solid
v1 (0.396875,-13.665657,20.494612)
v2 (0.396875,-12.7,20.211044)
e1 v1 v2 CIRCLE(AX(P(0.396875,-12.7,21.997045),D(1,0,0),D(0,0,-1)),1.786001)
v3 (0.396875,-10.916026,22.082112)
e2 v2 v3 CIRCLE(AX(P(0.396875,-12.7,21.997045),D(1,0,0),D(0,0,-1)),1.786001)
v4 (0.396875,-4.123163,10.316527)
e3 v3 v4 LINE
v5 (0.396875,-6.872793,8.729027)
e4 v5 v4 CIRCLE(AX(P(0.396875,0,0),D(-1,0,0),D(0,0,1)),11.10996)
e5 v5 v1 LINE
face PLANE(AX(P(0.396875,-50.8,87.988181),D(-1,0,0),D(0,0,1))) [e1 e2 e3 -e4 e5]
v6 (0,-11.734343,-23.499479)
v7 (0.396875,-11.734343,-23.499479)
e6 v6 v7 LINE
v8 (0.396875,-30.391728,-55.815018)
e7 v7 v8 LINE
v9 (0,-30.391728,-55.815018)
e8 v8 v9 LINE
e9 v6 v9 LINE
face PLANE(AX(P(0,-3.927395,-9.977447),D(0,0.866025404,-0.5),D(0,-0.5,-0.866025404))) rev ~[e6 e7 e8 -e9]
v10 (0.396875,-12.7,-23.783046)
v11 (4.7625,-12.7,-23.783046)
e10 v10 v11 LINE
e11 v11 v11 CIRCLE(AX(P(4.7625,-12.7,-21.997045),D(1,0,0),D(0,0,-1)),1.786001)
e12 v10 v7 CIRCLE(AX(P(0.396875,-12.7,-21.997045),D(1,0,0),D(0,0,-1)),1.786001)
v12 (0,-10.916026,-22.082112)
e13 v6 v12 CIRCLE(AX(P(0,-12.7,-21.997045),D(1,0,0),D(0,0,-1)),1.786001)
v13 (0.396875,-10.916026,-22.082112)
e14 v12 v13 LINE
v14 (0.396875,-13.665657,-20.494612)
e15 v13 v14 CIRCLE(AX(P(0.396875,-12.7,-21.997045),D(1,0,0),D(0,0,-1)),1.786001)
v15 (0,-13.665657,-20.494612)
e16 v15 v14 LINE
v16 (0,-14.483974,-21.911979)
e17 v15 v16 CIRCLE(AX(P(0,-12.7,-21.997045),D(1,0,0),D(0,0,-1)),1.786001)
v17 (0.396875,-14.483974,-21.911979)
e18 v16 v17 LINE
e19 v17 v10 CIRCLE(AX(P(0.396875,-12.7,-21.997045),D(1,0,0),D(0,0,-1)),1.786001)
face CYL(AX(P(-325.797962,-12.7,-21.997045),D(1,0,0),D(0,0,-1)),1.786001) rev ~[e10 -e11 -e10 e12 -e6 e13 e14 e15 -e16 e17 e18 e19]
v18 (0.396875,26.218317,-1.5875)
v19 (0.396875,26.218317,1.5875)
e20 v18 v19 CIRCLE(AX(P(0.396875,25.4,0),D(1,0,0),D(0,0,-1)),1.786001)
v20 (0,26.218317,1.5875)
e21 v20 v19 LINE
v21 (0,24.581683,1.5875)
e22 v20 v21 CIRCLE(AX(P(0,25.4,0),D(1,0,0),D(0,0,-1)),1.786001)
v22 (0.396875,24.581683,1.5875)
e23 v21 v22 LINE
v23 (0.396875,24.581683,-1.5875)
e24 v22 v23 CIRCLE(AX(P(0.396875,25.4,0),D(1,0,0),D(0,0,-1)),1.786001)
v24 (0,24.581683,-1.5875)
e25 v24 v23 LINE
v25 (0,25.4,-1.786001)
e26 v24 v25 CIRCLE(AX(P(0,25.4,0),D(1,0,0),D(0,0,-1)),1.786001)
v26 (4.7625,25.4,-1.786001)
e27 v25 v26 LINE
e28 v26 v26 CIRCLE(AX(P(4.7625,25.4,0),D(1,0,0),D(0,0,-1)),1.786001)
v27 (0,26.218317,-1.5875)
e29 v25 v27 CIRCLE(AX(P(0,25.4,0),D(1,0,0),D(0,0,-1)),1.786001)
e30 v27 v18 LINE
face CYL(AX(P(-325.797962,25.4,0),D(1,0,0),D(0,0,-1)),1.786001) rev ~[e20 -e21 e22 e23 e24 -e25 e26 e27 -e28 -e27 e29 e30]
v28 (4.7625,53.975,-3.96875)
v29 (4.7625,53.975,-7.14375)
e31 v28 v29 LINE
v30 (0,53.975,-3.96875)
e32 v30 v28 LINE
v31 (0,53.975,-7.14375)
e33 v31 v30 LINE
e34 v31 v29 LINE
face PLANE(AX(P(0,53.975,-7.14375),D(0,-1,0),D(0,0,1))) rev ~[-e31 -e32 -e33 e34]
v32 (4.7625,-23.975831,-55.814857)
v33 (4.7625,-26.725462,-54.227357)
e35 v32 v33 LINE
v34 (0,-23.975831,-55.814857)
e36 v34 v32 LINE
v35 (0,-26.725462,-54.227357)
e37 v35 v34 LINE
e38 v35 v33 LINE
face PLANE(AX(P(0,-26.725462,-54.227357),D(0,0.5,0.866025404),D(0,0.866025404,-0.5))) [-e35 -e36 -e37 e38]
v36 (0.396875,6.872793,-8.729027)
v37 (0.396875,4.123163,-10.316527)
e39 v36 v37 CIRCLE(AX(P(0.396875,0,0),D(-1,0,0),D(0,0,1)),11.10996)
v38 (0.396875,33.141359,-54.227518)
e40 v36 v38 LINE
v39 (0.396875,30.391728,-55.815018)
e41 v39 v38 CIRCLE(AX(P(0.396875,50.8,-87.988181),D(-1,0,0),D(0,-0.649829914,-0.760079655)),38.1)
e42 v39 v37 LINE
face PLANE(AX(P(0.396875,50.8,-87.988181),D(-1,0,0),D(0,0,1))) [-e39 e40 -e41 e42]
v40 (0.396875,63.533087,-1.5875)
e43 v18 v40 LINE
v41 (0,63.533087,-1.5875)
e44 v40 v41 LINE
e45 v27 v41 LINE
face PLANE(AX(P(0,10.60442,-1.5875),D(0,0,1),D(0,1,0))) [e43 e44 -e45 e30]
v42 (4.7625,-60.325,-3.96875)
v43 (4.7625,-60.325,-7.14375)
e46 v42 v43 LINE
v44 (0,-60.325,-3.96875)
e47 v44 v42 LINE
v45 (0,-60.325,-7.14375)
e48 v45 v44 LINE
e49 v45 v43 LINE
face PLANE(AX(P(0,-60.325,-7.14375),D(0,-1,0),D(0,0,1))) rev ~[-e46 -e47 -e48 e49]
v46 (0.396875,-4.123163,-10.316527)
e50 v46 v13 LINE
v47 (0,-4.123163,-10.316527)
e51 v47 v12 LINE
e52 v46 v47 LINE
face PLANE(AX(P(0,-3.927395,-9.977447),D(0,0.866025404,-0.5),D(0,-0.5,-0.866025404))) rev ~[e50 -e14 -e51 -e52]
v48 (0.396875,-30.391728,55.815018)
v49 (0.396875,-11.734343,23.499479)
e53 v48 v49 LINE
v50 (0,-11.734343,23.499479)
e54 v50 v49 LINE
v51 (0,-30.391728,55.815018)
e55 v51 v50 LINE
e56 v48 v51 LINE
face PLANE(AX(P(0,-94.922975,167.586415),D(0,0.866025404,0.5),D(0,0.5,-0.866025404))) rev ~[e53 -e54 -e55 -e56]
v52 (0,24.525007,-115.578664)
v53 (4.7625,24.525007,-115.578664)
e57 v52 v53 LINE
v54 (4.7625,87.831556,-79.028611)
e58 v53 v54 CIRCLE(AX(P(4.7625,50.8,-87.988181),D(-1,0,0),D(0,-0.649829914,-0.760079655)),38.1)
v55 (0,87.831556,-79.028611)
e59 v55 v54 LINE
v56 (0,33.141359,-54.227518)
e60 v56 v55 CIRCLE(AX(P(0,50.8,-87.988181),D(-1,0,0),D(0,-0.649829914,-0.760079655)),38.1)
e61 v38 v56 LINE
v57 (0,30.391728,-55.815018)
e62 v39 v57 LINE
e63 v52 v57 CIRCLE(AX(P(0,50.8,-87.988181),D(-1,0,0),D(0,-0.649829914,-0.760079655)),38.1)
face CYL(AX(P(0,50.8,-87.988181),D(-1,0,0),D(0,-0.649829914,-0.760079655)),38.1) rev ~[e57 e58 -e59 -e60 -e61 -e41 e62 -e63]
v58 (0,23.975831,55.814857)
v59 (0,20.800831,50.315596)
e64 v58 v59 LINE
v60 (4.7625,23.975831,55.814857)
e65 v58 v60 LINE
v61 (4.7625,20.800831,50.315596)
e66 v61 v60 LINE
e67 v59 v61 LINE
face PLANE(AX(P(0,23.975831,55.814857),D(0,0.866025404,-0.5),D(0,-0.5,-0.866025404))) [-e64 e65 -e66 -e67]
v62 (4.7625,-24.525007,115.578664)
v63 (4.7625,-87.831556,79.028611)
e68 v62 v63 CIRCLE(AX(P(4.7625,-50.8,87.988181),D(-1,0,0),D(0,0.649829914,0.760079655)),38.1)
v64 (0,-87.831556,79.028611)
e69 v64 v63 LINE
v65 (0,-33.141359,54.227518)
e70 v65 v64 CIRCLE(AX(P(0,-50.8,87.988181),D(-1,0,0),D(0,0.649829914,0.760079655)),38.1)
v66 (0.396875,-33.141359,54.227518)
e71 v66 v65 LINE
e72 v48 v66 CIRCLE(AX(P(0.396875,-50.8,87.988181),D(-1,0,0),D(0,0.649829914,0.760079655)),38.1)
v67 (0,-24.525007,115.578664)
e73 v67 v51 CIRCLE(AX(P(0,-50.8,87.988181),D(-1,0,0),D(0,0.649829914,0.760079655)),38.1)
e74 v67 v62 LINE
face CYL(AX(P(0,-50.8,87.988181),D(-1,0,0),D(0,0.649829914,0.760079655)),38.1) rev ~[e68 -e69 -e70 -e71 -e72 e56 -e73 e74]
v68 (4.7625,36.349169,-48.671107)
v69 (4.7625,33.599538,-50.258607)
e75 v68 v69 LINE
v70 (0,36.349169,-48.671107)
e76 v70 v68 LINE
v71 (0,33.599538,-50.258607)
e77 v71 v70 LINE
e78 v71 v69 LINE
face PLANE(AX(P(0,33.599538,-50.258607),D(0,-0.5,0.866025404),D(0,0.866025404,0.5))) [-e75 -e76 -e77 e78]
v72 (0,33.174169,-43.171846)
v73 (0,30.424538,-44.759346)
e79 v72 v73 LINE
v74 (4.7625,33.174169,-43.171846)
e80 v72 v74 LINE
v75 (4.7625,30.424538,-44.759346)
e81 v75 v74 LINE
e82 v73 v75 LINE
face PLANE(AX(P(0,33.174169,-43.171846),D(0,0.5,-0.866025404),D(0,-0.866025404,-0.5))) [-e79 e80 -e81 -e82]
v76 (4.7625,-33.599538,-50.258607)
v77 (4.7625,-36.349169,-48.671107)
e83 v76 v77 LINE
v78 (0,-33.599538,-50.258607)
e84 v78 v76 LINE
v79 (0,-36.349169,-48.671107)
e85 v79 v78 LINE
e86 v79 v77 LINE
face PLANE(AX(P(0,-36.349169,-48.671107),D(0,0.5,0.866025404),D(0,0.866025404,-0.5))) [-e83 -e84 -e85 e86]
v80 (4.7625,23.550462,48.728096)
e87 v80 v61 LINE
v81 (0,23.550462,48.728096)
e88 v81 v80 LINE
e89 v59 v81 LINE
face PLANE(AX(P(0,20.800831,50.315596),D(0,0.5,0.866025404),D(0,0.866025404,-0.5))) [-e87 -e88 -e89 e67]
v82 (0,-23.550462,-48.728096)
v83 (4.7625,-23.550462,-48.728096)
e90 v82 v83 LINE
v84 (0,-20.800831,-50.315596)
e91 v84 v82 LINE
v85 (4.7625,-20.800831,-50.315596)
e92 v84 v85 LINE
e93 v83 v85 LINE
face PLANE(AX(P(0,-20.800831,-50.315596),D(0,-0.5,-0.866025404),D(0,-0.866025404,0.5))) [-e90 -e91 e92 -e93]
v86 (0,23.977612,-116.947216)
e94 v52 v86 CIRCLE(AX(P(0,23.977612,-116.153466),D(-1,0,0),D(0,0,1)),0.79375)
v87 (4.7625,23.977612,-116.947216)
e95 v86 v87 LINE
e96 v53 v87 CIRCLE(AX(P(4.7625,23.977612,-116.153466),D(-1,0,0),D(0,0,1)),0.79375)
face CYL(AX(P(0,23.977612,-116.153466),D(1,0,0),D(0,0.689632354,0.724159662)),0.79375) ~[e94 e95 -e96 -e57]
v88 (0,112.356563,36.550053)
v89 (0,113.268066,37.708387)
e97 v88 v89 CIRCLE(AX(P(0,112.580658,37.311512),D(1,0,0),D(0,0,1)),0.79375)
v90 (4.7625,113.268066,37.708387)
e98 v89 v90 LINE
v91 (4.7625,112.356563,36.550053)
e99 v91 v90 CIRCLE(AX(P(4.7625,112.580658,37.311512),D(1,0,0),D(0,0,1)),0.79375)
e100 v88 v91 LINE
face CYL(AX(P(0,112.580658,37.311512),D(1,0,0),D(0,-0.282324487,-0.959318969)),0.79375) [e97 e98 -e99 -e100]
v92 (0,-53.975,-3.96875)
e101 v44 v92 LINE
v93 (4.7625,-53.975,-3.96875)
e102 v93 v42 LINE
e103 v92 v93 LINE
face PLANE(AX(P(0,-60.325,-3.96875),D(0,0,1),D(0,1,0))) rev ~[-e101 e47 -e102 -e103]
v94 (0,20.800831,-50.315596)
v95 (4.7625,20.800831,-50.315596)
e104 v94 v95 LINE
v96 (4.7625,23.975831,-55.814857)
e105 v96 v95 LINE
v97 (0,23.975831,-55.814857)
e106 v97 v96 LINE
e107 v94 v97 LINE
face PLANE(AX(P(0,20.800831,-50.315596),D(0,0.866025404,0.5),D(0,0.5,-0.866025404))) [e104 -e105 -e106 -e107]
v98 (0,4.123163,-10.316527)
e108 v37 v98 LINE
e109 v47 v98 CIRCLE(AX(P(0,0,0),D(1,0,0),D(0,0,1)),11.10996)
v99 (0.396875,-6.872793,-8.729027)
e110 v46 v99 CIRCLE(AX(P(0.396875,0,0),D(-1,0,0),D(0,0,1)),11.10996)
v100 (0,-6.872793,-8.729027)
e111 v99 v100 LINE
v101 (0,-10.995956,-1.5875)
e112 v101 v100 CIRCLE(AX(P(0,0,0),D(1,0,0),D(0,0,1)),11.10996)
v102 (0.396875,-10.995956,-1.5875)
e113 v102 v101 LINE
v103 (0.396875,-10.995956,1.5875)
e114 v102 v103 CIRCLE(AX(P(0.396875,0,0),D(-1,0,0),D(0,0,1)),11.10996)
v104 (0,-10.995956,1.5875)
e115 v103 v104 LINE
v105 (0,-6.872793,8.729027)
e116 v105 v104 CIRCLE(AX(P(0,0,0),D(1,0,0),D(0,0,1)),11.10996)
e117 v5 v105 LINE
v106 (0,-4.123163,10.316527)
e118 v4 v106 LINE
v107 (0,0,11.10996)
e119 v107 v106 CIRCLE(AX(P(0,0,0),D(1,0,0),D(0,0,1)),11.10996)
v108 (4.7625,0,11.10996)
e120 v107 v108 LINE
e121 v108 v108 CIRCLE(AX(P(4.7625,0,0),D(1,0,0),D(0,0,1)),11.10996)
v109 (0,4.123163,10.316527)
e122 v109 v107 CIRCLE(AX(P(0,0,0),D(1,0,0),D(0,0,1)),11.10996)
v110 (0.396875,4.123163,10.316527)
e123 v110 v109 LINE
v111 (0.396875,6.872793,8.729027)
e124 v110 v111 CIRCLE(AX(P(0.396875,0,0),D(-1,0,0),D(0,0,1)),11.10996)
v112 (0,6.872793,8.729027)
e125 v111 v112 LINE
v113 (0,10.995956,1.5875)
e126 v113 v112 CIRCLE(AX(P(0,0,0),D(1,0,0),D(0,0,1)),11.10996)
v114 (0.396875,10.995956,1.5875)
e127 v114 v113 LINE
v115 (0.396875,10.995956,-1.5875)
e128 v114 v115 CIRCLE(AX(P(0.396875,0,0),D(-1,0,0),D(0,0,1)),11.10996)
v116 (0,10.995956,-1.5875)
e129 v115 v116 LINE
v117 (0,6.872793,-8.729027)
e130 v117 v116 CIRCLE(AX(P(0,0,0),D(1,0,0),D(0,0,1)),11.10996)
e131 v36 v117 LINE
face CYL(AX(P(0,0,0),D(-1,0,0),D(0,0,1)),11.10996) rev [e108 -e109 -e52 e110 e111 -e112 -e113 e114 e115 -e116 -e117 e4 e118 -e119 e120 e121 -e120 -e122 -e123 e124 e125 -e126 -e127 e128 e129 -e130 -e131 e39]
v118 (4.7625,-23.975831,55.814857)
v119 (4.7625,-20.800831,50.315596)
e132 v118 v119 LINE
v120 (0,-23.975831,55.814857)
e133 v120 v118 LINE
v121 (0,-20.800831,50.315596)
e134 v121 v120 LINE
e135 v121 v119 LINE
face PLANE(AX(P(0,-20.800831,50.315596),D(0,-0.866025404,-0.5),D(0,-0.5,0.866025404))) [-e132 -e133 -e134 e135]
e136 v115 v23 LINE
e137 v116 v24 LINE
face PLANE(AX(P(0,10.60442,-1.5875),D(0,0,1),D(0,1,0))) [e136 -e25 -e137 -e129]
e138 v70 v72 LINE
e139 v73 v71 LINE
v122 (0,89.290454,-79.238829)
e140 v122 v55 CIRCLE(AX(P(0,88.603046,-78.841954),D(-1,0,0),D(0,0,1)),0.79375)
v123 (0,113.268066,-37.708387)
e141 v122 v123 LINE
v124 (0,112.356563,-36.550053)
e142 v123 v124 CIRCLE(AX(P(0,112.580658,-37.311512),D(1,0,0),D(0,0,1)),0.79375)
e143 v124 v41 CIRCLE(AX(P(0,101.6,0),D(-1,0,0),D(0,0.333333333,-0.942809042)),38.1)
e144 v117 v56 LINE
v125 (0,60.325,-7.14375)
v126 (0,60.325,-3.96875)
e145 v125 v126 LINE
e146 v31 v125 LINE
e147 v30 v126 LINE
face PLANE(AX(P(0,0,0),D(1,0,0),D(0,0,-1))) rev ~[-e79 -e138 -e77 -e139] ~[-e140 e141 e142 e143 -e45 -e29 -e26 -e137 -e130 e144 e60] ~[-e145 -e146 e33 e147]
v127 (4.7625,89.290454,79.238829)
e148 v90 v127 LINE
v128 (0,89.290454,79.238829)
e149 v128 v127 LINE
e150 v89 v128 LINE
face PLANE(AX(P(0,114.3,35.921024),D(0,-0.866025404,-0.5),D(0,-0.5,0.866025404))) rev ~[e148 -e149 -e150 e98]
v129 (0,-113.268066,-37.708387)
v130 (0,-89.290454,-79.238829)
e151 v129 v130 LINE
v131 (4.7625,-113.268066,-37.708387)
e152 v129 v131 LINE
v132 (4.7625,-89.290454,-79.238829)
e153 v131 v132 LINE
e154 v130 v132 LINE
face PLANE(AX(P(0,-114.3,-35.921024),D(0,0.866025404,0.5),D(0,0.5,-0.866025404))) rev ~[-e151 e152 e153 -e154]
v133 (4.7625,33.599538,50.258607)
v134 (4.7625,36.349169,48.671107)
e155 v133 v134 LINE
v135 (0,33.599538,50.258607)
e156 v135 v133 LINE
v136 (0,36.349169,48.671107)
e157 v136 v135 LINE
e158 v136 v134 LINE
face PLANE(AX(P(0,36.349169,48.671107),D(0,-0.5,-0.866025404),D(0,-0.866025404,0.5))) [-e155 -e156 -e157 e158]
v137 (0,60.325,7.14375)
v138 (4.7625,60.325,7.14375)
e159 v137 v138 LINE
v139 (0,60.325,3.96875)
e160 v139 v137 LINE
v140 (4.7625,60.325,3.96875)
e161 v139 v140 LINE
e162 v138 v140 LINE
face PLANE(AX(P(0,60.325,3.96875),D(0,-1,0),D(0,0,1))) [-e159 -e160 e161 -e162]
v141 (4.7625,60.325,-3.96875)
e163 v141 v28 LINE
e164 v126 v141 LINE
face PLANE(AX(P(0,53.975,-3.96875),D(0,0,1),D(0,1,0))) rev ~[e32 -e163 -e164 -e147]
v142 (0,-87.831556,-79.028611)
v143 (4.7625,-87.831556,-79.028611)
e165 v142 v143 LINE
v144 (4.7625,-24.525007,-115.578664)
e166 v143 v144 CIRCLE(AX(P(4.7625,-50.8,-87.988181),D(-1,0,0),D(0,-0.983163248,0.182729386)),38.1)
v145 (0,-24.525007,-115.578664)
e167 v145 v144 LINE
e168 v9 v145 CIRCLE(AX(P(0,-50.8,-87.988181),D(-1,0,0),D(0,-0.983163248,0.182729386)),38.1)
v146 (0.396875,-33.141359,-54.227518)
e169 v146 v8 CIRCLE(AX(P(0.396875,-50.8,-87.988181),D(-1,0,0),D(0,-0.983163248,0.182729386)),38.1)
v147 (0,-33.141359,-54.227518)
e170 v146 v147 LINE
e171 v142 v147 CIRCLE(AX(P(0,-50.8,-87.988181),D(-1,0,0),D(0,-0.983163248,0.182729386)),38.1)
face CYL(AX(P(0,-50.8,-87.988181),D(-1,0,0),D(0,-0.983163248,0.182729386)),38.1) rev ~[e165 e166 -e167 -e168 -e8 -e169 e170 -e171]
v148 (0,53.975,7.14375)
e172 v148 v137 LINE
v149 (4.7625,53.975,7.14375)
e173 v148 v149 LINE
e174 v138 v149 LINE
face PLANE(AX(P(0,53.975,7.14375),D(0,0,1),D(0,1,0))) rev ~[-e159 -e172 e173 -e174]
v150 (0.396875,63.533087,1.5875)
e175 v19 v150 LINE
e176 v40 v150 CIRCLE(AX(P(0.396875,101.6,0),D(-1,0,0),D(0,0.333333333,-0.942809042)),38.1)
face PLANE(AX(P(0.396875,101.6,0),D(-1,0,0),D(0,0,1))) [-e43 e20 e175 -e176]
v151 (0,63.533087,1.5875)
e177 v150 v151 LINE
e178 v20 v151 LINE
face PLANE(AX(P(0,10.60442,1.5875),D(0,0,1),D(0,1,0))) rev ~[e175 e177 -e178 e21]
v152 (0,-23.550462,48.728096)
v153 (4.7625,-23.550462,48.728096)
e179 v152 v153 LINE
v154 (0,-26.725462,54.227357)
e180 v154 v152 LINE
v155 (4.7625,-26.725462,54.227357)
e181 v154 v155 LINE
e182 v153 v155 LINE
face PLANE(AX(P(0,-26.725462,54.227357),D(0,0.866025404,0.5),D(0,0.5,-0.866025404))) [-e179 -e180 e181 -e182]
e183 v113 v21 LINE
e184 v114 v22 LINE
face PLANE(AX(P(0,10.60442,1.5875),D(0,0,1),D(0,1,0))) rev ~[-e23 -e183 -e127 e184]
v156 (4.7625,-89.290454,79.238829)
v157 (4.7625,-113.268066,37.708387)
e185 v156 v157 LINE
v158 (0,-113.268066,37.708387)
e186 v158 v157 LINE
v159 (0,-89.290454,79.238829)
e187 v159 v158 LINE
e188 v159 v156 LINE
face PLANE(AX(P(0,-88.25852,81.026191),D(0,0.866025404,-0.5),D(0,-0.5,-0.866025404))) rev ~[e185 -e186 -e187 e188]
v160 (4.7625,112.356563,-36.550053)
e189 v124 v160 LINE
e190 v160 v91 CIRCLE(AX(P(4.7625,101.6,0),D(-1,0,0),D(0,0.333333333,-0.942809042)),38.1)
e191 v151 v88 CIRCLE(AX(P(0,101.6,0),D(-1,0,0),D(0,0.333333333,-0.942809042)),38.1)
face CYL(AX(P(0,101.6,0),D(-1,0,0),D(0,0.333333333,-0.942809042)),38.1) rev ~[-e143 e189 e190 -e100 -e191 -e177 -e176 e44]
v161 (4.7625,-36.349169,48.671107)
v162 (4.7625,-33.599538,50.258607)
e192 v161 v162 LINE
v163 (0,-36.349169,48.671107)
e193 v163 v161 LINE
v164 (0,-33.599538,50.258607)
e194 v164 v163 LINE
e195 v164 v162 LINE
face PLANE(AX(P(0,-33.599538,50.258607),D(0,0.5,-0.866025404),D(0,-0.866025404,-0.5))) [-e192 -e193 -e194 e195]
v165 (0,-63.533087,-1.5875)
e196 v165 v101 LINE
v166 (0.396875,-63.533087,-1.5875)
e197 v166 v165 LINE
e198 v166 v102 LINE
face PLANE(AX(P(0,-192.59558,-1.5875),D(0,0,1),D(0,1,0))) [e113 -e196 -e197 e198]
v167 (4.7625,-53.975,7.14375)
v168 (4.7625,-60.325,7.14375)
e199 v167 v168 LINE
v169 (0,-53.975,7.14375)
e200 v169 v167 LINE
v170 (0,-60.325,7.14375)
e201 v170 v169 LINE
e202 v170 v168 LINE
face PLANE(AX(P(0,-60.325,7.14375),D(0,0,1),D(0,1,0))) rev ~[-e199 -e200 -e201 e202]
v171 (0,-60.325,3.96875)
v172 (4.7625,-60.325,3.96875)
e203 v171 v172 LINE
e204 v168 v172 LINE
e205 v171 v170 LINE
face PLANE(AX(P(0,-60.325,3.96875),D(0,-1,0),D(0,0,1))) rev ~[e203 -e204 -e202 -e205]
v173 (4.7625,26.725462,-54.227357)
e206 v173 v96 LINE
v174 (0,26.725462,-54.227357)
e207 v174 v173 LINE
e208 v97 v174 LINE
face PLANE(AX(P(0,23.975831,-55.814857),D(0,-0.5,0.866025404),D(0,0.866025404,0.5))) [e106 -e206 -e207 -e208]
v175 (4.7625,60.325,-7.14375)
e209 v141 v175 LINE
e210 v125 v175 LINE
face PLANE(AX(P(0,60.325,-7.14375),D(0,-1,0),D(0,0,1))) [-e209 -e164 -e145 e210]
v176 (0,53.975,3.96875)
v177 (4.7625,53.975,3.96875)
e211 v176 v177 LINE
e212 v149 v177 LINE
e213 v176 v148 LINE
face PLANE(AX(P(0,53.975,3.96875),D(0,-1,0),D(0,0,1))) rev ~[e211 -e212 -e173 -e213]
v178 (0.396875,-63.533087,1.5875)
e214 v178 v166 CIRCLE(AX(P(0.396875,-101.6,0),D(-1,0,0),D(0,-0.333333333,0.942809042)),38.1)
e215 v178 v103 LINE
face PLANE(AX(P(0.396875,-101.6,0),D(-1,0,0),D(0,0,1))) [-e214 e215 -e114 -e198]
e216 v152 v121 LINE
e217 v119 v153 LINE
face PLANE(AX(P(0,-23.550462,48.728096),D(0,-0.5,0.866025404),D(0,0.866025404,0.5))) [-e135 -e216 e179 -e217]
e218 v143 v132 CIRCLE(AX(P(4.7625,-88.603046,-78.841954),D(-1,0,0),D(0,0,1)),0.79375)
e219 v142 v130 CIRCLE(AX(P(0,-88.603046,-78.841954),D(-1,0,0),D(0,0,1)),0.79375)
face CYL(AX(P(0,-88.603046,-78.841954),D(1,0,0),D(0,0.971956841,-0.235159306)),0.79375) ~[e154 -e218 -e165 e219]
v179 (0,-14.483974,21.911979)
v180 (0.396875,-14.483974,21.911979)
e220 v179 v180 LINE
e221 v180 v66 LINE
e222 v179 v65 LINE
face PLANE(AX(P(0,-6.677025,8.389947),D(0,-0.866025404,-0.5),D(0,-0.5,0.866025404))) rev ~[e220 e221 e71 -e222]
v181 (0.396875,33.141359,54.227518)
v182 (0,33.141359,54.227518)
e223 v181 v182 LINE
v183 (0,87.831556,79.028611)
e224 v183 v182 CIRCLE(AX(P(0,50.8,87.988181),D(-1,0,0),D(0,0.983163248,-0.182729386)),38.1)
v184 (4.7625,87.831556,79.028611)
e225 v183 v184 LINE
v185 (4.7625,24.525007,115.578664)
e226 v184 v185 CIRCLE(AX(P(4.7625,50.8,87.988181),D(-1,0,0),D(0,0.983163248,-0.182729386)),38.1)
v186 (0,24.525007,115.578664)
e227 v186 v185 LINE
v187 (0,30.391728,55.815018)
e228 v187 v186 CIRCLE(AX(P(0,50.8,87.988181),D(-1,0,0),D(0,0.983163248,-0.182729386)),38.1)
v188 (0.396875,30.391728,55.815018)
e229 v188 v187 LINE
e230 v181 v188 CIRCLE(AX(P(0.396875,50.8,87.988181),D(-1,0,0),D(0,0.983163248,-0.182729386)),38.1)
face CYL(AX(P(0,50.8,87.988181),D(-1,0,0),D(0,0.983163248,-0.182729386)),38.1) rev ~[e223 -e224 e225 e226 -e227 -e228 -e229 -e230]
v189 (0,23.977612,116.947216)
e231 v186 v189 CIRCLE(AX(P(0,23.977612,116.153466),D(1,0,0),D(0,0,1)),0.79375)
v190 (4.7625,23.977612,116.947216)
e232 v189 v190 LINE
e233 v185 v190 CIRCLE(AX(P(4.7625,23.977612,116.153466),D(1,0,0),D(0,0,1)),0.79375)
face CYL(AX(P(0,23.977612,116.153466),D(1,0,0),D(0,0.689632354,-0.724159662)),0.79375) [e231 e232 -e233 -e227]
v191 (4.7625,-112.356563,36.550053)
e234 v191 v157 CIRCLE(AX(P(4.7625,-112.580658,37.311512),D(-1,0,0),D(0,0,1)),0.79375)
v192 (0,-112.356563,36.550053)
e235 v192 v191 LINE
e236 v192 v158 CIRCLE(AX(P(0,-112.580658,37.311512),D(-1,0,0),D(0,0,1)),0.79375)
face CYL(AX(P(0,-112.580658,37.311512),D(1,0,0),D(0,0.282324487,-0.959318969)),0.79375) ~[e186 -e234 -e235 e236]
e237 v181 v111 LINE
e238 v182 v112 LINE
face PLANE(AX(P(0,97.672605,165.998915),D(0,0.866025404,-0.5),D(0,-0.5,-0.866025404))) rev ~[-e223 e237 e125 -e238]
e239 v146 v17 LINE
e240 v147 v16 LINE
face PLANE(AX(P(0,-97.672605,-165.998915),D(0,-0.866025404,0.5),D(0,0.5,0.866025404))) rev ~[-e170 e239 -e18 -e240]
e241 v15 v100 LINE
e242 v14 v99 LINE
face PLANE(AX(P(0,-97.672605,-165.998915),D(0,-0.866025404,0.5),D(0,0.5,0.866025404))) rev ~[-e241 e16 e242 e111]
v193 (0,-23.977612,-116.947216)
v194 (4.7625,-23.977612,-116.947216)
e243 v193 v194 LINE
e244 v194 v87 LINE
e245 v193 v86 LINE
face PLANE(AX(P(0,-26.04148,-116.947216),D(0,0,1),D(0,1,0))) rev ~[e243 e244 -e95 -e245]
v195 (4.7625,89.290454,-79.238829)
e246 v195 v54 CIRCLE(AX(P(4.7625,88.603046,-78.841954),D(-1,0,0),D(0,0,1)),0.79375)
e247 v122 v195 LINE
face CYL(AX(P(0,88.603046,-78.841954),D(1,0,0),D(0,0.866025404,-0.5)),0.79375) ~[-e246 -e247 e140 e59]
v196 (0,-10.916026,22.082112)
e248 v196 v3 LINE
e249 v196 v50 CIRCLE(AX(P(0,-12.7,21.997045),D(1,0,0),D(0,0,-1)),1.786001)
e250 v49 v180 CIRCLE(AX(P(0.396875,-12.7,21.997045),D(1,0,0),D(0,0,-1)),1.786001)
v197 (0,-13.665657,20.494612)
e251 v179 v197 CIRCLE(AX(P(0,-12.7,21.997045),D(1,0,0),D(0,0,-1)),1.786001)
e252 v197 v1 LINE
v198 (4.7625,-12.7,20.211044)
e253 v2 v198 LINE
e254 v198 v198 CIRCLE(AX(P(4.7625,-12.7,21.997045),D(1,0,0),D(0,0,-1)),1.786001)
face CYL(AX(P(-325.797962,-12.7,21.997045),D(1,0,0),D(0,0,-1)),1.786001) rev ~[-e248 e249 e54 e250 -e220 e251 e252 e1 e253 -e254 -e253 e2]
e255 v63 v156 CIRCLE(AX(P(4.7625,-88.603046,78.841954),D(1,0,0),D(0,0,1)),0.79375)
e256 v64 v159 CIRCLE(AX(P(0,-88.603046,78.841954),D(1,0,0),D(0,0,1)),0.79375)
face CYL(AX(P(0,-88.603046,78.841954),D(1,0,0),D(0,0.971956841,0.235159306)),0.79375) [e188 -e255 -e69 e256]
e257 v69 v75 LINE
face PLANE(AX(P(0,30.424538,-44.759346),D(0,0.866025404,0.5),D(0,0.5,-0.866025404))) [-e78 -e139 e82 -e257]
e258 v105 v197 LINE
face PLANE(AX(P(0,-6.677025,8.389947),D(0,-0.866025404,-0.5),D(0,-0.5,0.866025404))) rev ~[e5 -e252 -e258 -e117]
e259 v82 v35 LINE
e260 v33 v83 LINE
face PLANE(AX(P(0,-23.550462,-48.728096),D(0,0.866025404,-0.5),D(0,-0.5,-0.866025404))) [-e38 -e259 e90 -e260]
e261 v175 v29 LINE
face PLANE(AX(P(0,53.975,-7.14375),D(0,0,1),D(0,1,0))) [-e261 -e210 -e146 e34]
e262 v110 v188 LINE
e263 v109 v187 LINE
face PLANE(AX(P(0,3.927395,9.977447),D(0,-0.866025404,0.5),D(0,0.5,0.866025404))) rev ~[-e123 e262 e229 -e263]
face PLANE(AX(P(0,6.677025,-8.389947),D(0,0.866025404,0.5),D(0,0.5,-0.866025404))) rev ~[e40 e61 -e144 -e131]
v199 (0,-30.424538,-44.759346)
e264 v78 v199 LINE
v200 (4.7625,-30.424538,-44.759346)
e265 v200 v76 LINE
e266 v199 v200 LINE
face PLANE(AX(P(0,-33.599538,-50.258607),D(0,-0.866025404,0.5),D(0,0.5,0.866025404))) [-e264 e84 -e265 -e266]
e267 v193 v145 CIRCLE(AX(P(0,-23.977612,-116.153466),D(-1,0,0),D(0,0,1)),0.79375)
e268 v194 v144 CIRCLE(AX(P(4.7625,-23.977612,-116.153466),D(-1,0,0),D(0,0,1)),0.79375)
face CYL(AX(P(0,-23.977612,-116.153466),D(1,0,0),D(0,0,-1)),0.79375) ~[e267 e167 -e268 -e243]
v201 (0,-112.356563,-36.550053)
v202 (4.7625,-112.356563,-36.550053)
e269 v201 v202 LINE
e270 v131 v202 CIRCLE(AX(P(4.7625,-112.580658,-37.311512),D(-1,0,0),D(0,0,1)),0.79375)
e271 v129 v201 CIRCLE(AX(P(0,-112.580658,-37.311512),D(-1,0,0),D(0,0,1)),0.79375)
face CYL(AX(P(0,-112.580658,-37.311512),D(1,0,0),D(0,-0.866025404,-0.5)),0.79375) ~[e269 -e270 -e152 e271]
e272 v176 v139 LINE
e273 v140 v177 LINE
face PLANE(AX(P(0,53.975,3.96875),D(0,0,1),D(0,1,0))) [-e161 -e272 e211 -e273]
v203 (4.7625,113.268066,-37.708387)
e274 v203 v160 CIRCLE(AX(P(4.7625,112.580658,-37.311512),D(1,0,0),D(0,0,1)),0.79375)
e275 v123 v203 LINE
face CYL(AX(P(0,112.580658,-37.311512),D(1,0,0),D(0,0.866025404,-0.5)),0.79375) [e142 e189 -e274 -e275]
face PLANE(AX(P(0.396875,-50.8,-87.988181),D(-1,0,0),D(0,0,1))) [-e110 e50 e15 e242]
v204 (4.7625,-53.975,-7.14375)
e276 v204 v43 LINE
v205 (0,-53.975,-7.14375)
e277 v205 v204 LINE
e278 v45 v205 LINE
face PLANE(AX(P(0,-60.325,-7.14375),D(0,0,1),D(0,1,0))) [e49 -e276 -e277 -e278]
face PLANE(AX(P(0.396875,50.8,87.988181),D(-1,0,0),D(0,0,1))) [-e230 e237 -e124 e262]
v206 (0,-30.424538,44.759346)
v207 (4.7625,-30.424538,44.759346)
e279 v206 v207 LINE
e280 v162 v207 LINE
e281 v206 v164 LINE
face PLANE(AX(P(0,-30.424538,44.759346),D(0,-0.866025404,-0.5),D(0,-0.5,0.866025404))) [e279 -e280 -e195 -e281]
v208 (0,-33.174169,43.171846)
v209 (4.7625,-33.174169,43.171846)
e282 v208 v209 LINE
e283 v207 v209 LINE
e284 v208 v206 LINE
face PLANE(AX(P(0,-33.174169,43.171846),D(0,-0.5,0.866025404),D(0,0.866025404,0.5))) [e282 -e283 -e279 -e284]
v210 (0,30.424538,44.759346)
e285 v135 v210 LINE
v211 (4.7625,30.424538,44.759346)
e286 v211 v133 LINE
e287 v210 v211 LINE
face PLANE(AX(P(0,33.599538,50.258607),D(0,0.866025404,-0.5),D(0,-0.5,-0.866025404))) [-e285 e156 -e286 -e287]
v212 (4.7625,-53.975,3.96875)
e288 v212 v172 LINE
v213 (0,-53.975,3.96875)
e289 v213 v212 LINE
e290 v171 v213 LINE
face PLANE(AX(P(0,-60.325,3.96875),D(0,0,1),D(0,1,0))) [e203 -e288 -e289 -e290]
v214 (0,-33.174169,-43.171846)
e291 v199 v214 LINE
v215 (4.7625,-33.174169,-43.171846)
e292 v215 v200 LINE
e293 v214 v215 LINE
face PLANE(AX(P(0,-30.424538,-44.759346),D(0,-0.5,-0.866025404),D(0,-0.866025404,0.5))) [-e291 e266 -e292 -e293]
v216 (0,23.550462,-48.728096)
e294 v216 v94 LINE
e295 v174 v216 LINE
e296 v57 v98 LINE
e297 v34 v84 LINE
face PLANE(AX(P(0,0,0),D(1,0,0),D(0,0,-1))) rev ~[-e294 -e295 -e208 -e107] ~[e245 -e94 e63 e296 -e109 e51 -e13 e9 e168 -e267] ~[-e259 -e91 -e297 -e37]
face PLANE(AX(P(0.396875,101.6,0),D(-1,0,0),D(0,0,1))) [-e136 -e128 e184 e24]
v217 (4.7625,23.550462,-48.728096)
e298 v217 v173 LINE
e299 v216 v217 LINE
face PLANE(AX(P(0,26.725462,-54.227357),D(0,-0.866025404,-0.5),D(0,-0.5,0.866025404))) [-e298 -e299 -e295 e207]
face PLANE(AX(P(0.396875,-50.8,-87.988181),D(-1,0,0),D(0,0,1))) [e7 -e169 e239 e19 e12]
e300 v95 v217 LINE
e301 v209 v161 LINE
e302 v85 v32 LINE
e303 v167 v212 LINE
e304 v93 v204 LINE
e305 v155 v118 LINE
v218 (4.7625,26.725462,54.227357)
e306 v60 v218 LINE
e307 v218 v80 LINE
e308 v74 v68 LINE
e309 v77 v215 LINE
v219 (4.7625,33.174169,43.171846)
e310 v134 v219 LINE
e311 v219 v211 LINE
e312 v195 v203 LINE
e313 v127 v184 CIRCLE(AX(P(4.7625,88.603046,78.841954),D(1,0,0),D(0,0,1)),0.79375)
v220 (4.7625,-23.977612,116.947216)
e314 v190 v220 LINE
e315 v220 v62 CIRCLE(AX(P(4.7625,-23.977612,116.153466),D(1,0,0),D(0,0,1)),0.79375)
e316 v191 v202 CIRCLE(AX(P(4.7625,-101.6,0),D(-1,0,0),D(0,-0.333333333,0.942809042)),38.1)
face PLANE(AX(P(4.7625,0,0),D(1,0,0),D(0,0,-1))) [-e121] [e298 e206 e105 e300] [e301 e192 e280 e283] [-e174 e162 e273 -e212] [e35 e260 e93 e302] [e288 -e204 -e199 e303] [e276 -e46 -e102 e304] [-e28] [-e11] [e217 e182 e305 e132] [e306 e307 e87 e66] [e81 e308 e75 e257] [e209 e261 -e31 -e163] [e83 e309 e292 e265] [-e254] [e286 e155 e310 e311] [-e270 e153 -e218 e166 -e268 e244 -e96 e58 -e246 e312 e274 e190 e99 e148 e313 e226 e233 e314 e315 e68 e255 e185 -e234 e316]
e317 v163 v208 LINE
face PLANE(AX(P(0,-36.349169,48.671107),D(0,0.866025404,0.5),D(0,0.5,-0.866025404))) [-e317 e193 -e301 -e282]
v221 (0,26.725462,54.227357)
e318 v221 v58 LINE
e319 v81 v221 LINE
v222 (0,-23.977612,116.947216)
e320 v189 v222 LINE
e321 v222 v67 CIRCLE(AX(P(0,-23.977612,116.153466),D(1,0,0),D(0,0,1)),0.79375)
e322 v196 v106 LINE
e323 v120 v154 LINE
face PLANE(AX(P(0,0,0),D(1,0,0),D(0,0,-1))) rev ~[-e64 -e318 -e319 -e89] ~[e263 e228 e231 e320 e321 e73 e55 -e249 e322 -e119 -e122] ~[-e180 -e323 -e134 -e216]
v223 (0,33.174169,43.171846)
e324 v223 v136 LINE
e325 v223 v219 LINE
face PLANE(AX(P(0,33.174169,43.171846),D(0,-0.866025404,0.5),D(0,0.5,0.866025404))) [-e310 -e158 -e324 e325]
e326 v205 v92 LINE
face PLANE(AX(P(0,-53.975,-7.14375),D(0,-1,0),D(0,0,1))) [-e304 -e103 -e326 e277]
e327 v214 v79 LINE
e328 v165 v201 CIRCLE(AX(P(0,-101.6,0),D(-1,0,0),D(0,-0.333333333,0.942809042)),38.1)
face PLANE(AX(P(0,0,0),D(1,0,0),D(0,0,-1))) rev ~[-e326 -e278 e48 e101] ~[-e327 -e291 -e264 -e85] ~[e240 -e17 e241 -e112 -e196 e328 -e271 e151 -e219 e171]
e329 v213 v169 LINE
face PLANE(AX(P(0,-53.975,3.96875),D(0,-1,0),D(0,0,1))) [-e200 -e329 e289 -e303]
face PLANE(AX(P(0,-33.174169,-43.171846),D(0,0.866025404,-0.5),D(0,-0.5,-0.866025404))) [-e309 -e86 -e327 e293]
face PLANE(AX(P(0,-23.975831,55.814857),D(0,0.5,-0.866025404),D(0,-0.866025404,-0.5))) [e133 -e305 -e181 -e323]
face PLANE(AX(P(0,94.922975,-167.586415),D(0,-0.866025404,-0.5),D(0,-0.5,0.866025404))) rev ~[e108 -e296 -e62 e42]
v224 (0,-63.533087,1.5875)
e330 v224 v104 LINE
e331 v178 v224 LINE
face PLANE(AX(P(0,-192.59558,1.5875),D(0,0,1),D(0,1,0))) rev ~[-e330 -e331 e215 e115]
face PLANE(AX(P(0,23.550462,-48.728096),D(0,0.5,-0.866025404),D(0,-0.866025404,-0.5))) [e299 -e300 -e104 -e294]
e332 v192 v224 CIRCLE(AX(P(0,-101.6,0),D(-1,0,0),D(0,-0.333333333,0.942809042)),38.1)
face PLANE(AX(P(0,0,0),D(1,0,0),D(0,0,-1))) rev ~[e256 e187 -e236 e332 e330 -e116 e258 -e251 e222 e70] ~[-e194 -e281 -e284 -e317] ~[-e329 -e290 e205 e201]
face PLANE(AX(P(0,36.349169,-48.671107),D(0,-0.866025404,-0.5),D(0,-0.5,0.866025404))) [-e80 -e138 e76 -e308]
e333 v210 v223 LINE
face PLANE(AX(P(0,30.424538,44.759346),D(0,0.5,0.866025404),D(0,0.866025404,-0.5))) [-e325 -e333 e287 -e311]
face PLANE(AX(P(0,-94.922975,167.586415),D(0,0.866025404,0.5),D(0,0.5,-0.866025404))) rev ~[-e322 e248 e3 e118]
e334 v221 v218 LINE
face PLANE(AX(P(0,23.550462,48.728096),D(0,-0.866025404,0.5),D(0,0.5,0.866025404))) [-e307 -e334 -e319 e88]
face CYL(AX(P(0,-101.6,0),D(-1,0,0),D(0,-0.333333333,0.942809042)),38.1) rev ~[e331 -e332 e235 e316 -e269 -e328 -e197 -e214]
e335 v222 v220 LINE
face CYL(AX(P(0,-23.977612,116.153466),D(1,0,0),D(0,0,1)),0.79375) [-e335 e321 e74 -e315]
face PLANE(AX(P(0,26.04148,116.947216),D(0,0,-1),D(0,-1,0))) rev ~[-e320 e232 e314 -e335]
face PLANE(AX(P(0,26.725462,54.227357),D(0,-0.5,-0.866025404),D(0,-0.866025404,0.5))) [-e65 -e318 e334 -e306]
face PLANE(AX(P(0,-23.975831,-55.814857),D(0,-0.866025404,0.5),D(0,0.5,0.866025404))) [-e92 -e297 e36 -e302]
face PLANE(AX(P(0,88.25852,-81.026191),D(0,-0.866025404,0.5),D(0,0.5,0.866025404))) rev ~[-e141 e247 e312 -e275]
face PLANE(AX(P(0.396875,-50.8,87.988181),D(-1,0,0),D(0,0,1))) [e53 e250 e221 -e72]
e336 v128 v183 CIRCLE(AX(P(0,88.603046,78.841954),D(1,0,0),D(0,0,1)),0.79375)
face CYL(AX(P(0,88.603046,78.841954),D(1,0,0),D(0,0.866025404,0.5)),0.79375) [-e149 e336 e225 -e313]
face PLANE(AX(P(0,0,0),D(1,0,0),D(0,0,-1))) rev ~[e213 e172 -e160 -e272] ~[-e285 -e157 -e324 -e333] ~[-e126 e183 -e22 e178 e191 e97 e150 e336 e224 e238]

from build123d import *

# Parameters (mm, degrees)
SKETCH2_R                       = 11.10996
BOSS_EXTRUDE1_DEPTH             = 4.7625
SKETCH3_W                       = 3.175
SKETCH3_H                       = 181.991160274
CUT_EXTRUDE1_DEPTH              = 0.396875
FILLET1_R                       = 0.79375
F_9_64_0_14063_DIAMETER_HOLE1_D = 3.572002
SKETCH8_W                       = 3.175
SKETCH8_H                       = 6.35
CUT_EXTRUDE2_DEPTH              = 163.951186269


with BuildPart() as part:
    # Sketch2 → Boss-Extrude1 (new body)
    with BuildSketch(Plane(origin=(0, 0, 0), x_dir=(0, 0, -1), z_dir=(1, 0, 0))):
        with BuildLine():
            Line((81.02619141, 88.258519733), (35.921024484, 114.3))
            ThreePointArc((35.921024484, 114.3), (0, 63.5), (-35.921024484, 114.3))
            Line((-35.921024484, 114.3), (-81.02619141, 88.258519733))
            ThreePointArc((-81.02619141, 88.258519733), (-54.99261314, 31.75), (-116.947215895, 26.041480267))
            Line((-116.947215895, 26.041480267), (-116.947215895, -26.041480267))
            ThreePointArc((-116.947215895, -26.041480267), (-54.99261314, -31.75), (-81.02619141, -88.258519733))
            Line((-81.02619141, -88.258519733), (-35.921024484, -114.3))
            ThreePointArc((-35.921024484, -114.3), (0, -63.5), (35.921024484, -114.3))
            Line((35.921024484, -114.3), (81.02619141, -88.258519733))
            ThreePointArc((81.02619141, -88.258519733), (54.99261314, -31.75), (116.947215895, -26.041480267))
            Line((116.947215895, -26.041480267), (116.947215895, 26.041480267))
            ThreePointArc((116.947215895, 26.041480267), (54.99261314, 31.75), (81.02619141, 88.258519733))
        make_face()
        with Locations(Location((0, 0, 0), (0, 0, 180))):
            Circle(SKETCH2_R, mode=Mode.SUBTRACT)
    extrude(amount=BOSS_EXTRUDE1_DEPTH)

    # Sketch3 → Cut-Extrude1 (cut)
    with BuildSketch(Plane.ZY):
        with Locations((0, 101.6)):
            Rectangle(SKETCH3_W, SKETCH3_H)
        Polygon((167.586415056, 94.92297474), (165.998915056, 97.672605397), (8.389946993, 6.67702526), (9.977446993, 3.927394603), align=None)
        Polygon((165.998915056, -97.672605397), (167.586415056, -94.92297474), (9.977446993, -3.927394603), (8.389946993, -6.67702526), align=None)
        with Locations((0, -101.6)):
            Rectangle(SKETCH3_W, SKETCH3_H)
        Polygon((-167.586415056, -94.92297474), (-165.998915056, -97.672605397), (-8.389946993, -6.67702526), (-9.977446993, -3.927394603), align=None)
        Polygon((-165.998915056, 97.672605397), (-167.586415056, 94.92297474), (-9.977446993, 3.927394603), (-8.389946993, 6.67702526), align=None)
    extrude(amount=-CUT_EXTRUDE1_DEPTH, mode=Mode.SUBTRACT)

    # Fillet1
    fillet1_edges = [part.edges().sort_by_distance(p)[0] for p in [
        (2.38125, 88.258519733, 81.02619141),
        (2.38125, 114.3, 35.921024484),
        (2.38125, 114.3, -35.921024484),
        (2.38125, 88.258519733, -81.02619141),
        (2.38125, 26.041480267, -116.947215895),
        (2.38125, -26.041480267, -116.947215895),
        (2.38125, -88.258519733, -81.02619141),
        (2.38125, -114.3, -35.921024484),
        (2.38125, -114.3, 35.921024484),
        (2.38125, -88.258519733, 81.02619141),
        (2.38125, -26.041480267, 116.947215895),
        (2.38125, 26.041480267, 116.947215895),
    ]]
    fillet(fillet1_edges, radius=FILLET1_R)

    # 9/64 (0.14063) Diameter Hole1 (through all)
    with Locations(Plane.ZY):
        with Locations((0, 25.4), (21.997045256, -12.7), (-21.997045256, -12.7)):
            Hole(F_9_64_0_14063_DIAMETER_HOLE1_D / 2)

    # Sketch8 → Cut-Extrude2 (cut, through all)
    with BuildSketch(Plane.ZY):
        with Locations((5.55625, 57.15)):
            Rectangle(SKETCH8_W, SKETCH8_H)
        with Locations((-5.55625, 57.15)):
            Rectangle(SKETCH8_W, SKETCH8_H)
        Polygon((44.759346169, 30.424538321), (43.171846169, 33.174168978), (48.671107483, 36.349168978), (50.258607483, 33.599538321), align=None)
        Polygon((54.227357483, 26.725461679), (55.814857483, 23.975831022), (50.315596169, 20.800831022), (48.728096169, 23.550461679), align=None)
        Polygon((48.728096169, -23.550461679), (50.315596169, -20.800831022), (55.814857483, -23.975831022), (54.227357483, -26.725461679), align=None)
        Polygon((50.258607483, -33.599538321), (48.671107483, -36.349168978), (43.171846169, -33.174168978), (44.759346169, -30.424538321), align=None)
        with Locations((5.55625, -57.15)):
            Rectangle(SKETCH8_W, SKETCH8_H)
        with Locations((-5.55625, -57.15)):
            Rectangle(SKETCH8_W, SKETCH8_H)
        Polygon((-44.759346169, -30.424538321), (-43.171846169, -33.174168978), (-48.671107483, -36.349168978), (-50.258607483, -33.599538321), align=None)
        Polygon((-54.227357483, -26.725461679), (-55.814857483, -23.975831022), (-50.315596169, -20.800831022), (-48.728096169, -23.550461679), align=None)
        Polygon((-48.728096169, 23.550461679), (-50.315596169, 20.800831022), (-55.814857483, 23.975831022), (-54.227357483, 26.725461679), align=None)
        Polygon((-50.258607483, 33.599538321), (-48.671107483, 36.349168978), (-43.171846169, 33.174168978), (-44.759346169, 30.424538321), align=None)
    extrude(amount=-CUT_EXTRUDE2_DEPTH, mode=Mode.SUBTRACT)


solid = part.part
